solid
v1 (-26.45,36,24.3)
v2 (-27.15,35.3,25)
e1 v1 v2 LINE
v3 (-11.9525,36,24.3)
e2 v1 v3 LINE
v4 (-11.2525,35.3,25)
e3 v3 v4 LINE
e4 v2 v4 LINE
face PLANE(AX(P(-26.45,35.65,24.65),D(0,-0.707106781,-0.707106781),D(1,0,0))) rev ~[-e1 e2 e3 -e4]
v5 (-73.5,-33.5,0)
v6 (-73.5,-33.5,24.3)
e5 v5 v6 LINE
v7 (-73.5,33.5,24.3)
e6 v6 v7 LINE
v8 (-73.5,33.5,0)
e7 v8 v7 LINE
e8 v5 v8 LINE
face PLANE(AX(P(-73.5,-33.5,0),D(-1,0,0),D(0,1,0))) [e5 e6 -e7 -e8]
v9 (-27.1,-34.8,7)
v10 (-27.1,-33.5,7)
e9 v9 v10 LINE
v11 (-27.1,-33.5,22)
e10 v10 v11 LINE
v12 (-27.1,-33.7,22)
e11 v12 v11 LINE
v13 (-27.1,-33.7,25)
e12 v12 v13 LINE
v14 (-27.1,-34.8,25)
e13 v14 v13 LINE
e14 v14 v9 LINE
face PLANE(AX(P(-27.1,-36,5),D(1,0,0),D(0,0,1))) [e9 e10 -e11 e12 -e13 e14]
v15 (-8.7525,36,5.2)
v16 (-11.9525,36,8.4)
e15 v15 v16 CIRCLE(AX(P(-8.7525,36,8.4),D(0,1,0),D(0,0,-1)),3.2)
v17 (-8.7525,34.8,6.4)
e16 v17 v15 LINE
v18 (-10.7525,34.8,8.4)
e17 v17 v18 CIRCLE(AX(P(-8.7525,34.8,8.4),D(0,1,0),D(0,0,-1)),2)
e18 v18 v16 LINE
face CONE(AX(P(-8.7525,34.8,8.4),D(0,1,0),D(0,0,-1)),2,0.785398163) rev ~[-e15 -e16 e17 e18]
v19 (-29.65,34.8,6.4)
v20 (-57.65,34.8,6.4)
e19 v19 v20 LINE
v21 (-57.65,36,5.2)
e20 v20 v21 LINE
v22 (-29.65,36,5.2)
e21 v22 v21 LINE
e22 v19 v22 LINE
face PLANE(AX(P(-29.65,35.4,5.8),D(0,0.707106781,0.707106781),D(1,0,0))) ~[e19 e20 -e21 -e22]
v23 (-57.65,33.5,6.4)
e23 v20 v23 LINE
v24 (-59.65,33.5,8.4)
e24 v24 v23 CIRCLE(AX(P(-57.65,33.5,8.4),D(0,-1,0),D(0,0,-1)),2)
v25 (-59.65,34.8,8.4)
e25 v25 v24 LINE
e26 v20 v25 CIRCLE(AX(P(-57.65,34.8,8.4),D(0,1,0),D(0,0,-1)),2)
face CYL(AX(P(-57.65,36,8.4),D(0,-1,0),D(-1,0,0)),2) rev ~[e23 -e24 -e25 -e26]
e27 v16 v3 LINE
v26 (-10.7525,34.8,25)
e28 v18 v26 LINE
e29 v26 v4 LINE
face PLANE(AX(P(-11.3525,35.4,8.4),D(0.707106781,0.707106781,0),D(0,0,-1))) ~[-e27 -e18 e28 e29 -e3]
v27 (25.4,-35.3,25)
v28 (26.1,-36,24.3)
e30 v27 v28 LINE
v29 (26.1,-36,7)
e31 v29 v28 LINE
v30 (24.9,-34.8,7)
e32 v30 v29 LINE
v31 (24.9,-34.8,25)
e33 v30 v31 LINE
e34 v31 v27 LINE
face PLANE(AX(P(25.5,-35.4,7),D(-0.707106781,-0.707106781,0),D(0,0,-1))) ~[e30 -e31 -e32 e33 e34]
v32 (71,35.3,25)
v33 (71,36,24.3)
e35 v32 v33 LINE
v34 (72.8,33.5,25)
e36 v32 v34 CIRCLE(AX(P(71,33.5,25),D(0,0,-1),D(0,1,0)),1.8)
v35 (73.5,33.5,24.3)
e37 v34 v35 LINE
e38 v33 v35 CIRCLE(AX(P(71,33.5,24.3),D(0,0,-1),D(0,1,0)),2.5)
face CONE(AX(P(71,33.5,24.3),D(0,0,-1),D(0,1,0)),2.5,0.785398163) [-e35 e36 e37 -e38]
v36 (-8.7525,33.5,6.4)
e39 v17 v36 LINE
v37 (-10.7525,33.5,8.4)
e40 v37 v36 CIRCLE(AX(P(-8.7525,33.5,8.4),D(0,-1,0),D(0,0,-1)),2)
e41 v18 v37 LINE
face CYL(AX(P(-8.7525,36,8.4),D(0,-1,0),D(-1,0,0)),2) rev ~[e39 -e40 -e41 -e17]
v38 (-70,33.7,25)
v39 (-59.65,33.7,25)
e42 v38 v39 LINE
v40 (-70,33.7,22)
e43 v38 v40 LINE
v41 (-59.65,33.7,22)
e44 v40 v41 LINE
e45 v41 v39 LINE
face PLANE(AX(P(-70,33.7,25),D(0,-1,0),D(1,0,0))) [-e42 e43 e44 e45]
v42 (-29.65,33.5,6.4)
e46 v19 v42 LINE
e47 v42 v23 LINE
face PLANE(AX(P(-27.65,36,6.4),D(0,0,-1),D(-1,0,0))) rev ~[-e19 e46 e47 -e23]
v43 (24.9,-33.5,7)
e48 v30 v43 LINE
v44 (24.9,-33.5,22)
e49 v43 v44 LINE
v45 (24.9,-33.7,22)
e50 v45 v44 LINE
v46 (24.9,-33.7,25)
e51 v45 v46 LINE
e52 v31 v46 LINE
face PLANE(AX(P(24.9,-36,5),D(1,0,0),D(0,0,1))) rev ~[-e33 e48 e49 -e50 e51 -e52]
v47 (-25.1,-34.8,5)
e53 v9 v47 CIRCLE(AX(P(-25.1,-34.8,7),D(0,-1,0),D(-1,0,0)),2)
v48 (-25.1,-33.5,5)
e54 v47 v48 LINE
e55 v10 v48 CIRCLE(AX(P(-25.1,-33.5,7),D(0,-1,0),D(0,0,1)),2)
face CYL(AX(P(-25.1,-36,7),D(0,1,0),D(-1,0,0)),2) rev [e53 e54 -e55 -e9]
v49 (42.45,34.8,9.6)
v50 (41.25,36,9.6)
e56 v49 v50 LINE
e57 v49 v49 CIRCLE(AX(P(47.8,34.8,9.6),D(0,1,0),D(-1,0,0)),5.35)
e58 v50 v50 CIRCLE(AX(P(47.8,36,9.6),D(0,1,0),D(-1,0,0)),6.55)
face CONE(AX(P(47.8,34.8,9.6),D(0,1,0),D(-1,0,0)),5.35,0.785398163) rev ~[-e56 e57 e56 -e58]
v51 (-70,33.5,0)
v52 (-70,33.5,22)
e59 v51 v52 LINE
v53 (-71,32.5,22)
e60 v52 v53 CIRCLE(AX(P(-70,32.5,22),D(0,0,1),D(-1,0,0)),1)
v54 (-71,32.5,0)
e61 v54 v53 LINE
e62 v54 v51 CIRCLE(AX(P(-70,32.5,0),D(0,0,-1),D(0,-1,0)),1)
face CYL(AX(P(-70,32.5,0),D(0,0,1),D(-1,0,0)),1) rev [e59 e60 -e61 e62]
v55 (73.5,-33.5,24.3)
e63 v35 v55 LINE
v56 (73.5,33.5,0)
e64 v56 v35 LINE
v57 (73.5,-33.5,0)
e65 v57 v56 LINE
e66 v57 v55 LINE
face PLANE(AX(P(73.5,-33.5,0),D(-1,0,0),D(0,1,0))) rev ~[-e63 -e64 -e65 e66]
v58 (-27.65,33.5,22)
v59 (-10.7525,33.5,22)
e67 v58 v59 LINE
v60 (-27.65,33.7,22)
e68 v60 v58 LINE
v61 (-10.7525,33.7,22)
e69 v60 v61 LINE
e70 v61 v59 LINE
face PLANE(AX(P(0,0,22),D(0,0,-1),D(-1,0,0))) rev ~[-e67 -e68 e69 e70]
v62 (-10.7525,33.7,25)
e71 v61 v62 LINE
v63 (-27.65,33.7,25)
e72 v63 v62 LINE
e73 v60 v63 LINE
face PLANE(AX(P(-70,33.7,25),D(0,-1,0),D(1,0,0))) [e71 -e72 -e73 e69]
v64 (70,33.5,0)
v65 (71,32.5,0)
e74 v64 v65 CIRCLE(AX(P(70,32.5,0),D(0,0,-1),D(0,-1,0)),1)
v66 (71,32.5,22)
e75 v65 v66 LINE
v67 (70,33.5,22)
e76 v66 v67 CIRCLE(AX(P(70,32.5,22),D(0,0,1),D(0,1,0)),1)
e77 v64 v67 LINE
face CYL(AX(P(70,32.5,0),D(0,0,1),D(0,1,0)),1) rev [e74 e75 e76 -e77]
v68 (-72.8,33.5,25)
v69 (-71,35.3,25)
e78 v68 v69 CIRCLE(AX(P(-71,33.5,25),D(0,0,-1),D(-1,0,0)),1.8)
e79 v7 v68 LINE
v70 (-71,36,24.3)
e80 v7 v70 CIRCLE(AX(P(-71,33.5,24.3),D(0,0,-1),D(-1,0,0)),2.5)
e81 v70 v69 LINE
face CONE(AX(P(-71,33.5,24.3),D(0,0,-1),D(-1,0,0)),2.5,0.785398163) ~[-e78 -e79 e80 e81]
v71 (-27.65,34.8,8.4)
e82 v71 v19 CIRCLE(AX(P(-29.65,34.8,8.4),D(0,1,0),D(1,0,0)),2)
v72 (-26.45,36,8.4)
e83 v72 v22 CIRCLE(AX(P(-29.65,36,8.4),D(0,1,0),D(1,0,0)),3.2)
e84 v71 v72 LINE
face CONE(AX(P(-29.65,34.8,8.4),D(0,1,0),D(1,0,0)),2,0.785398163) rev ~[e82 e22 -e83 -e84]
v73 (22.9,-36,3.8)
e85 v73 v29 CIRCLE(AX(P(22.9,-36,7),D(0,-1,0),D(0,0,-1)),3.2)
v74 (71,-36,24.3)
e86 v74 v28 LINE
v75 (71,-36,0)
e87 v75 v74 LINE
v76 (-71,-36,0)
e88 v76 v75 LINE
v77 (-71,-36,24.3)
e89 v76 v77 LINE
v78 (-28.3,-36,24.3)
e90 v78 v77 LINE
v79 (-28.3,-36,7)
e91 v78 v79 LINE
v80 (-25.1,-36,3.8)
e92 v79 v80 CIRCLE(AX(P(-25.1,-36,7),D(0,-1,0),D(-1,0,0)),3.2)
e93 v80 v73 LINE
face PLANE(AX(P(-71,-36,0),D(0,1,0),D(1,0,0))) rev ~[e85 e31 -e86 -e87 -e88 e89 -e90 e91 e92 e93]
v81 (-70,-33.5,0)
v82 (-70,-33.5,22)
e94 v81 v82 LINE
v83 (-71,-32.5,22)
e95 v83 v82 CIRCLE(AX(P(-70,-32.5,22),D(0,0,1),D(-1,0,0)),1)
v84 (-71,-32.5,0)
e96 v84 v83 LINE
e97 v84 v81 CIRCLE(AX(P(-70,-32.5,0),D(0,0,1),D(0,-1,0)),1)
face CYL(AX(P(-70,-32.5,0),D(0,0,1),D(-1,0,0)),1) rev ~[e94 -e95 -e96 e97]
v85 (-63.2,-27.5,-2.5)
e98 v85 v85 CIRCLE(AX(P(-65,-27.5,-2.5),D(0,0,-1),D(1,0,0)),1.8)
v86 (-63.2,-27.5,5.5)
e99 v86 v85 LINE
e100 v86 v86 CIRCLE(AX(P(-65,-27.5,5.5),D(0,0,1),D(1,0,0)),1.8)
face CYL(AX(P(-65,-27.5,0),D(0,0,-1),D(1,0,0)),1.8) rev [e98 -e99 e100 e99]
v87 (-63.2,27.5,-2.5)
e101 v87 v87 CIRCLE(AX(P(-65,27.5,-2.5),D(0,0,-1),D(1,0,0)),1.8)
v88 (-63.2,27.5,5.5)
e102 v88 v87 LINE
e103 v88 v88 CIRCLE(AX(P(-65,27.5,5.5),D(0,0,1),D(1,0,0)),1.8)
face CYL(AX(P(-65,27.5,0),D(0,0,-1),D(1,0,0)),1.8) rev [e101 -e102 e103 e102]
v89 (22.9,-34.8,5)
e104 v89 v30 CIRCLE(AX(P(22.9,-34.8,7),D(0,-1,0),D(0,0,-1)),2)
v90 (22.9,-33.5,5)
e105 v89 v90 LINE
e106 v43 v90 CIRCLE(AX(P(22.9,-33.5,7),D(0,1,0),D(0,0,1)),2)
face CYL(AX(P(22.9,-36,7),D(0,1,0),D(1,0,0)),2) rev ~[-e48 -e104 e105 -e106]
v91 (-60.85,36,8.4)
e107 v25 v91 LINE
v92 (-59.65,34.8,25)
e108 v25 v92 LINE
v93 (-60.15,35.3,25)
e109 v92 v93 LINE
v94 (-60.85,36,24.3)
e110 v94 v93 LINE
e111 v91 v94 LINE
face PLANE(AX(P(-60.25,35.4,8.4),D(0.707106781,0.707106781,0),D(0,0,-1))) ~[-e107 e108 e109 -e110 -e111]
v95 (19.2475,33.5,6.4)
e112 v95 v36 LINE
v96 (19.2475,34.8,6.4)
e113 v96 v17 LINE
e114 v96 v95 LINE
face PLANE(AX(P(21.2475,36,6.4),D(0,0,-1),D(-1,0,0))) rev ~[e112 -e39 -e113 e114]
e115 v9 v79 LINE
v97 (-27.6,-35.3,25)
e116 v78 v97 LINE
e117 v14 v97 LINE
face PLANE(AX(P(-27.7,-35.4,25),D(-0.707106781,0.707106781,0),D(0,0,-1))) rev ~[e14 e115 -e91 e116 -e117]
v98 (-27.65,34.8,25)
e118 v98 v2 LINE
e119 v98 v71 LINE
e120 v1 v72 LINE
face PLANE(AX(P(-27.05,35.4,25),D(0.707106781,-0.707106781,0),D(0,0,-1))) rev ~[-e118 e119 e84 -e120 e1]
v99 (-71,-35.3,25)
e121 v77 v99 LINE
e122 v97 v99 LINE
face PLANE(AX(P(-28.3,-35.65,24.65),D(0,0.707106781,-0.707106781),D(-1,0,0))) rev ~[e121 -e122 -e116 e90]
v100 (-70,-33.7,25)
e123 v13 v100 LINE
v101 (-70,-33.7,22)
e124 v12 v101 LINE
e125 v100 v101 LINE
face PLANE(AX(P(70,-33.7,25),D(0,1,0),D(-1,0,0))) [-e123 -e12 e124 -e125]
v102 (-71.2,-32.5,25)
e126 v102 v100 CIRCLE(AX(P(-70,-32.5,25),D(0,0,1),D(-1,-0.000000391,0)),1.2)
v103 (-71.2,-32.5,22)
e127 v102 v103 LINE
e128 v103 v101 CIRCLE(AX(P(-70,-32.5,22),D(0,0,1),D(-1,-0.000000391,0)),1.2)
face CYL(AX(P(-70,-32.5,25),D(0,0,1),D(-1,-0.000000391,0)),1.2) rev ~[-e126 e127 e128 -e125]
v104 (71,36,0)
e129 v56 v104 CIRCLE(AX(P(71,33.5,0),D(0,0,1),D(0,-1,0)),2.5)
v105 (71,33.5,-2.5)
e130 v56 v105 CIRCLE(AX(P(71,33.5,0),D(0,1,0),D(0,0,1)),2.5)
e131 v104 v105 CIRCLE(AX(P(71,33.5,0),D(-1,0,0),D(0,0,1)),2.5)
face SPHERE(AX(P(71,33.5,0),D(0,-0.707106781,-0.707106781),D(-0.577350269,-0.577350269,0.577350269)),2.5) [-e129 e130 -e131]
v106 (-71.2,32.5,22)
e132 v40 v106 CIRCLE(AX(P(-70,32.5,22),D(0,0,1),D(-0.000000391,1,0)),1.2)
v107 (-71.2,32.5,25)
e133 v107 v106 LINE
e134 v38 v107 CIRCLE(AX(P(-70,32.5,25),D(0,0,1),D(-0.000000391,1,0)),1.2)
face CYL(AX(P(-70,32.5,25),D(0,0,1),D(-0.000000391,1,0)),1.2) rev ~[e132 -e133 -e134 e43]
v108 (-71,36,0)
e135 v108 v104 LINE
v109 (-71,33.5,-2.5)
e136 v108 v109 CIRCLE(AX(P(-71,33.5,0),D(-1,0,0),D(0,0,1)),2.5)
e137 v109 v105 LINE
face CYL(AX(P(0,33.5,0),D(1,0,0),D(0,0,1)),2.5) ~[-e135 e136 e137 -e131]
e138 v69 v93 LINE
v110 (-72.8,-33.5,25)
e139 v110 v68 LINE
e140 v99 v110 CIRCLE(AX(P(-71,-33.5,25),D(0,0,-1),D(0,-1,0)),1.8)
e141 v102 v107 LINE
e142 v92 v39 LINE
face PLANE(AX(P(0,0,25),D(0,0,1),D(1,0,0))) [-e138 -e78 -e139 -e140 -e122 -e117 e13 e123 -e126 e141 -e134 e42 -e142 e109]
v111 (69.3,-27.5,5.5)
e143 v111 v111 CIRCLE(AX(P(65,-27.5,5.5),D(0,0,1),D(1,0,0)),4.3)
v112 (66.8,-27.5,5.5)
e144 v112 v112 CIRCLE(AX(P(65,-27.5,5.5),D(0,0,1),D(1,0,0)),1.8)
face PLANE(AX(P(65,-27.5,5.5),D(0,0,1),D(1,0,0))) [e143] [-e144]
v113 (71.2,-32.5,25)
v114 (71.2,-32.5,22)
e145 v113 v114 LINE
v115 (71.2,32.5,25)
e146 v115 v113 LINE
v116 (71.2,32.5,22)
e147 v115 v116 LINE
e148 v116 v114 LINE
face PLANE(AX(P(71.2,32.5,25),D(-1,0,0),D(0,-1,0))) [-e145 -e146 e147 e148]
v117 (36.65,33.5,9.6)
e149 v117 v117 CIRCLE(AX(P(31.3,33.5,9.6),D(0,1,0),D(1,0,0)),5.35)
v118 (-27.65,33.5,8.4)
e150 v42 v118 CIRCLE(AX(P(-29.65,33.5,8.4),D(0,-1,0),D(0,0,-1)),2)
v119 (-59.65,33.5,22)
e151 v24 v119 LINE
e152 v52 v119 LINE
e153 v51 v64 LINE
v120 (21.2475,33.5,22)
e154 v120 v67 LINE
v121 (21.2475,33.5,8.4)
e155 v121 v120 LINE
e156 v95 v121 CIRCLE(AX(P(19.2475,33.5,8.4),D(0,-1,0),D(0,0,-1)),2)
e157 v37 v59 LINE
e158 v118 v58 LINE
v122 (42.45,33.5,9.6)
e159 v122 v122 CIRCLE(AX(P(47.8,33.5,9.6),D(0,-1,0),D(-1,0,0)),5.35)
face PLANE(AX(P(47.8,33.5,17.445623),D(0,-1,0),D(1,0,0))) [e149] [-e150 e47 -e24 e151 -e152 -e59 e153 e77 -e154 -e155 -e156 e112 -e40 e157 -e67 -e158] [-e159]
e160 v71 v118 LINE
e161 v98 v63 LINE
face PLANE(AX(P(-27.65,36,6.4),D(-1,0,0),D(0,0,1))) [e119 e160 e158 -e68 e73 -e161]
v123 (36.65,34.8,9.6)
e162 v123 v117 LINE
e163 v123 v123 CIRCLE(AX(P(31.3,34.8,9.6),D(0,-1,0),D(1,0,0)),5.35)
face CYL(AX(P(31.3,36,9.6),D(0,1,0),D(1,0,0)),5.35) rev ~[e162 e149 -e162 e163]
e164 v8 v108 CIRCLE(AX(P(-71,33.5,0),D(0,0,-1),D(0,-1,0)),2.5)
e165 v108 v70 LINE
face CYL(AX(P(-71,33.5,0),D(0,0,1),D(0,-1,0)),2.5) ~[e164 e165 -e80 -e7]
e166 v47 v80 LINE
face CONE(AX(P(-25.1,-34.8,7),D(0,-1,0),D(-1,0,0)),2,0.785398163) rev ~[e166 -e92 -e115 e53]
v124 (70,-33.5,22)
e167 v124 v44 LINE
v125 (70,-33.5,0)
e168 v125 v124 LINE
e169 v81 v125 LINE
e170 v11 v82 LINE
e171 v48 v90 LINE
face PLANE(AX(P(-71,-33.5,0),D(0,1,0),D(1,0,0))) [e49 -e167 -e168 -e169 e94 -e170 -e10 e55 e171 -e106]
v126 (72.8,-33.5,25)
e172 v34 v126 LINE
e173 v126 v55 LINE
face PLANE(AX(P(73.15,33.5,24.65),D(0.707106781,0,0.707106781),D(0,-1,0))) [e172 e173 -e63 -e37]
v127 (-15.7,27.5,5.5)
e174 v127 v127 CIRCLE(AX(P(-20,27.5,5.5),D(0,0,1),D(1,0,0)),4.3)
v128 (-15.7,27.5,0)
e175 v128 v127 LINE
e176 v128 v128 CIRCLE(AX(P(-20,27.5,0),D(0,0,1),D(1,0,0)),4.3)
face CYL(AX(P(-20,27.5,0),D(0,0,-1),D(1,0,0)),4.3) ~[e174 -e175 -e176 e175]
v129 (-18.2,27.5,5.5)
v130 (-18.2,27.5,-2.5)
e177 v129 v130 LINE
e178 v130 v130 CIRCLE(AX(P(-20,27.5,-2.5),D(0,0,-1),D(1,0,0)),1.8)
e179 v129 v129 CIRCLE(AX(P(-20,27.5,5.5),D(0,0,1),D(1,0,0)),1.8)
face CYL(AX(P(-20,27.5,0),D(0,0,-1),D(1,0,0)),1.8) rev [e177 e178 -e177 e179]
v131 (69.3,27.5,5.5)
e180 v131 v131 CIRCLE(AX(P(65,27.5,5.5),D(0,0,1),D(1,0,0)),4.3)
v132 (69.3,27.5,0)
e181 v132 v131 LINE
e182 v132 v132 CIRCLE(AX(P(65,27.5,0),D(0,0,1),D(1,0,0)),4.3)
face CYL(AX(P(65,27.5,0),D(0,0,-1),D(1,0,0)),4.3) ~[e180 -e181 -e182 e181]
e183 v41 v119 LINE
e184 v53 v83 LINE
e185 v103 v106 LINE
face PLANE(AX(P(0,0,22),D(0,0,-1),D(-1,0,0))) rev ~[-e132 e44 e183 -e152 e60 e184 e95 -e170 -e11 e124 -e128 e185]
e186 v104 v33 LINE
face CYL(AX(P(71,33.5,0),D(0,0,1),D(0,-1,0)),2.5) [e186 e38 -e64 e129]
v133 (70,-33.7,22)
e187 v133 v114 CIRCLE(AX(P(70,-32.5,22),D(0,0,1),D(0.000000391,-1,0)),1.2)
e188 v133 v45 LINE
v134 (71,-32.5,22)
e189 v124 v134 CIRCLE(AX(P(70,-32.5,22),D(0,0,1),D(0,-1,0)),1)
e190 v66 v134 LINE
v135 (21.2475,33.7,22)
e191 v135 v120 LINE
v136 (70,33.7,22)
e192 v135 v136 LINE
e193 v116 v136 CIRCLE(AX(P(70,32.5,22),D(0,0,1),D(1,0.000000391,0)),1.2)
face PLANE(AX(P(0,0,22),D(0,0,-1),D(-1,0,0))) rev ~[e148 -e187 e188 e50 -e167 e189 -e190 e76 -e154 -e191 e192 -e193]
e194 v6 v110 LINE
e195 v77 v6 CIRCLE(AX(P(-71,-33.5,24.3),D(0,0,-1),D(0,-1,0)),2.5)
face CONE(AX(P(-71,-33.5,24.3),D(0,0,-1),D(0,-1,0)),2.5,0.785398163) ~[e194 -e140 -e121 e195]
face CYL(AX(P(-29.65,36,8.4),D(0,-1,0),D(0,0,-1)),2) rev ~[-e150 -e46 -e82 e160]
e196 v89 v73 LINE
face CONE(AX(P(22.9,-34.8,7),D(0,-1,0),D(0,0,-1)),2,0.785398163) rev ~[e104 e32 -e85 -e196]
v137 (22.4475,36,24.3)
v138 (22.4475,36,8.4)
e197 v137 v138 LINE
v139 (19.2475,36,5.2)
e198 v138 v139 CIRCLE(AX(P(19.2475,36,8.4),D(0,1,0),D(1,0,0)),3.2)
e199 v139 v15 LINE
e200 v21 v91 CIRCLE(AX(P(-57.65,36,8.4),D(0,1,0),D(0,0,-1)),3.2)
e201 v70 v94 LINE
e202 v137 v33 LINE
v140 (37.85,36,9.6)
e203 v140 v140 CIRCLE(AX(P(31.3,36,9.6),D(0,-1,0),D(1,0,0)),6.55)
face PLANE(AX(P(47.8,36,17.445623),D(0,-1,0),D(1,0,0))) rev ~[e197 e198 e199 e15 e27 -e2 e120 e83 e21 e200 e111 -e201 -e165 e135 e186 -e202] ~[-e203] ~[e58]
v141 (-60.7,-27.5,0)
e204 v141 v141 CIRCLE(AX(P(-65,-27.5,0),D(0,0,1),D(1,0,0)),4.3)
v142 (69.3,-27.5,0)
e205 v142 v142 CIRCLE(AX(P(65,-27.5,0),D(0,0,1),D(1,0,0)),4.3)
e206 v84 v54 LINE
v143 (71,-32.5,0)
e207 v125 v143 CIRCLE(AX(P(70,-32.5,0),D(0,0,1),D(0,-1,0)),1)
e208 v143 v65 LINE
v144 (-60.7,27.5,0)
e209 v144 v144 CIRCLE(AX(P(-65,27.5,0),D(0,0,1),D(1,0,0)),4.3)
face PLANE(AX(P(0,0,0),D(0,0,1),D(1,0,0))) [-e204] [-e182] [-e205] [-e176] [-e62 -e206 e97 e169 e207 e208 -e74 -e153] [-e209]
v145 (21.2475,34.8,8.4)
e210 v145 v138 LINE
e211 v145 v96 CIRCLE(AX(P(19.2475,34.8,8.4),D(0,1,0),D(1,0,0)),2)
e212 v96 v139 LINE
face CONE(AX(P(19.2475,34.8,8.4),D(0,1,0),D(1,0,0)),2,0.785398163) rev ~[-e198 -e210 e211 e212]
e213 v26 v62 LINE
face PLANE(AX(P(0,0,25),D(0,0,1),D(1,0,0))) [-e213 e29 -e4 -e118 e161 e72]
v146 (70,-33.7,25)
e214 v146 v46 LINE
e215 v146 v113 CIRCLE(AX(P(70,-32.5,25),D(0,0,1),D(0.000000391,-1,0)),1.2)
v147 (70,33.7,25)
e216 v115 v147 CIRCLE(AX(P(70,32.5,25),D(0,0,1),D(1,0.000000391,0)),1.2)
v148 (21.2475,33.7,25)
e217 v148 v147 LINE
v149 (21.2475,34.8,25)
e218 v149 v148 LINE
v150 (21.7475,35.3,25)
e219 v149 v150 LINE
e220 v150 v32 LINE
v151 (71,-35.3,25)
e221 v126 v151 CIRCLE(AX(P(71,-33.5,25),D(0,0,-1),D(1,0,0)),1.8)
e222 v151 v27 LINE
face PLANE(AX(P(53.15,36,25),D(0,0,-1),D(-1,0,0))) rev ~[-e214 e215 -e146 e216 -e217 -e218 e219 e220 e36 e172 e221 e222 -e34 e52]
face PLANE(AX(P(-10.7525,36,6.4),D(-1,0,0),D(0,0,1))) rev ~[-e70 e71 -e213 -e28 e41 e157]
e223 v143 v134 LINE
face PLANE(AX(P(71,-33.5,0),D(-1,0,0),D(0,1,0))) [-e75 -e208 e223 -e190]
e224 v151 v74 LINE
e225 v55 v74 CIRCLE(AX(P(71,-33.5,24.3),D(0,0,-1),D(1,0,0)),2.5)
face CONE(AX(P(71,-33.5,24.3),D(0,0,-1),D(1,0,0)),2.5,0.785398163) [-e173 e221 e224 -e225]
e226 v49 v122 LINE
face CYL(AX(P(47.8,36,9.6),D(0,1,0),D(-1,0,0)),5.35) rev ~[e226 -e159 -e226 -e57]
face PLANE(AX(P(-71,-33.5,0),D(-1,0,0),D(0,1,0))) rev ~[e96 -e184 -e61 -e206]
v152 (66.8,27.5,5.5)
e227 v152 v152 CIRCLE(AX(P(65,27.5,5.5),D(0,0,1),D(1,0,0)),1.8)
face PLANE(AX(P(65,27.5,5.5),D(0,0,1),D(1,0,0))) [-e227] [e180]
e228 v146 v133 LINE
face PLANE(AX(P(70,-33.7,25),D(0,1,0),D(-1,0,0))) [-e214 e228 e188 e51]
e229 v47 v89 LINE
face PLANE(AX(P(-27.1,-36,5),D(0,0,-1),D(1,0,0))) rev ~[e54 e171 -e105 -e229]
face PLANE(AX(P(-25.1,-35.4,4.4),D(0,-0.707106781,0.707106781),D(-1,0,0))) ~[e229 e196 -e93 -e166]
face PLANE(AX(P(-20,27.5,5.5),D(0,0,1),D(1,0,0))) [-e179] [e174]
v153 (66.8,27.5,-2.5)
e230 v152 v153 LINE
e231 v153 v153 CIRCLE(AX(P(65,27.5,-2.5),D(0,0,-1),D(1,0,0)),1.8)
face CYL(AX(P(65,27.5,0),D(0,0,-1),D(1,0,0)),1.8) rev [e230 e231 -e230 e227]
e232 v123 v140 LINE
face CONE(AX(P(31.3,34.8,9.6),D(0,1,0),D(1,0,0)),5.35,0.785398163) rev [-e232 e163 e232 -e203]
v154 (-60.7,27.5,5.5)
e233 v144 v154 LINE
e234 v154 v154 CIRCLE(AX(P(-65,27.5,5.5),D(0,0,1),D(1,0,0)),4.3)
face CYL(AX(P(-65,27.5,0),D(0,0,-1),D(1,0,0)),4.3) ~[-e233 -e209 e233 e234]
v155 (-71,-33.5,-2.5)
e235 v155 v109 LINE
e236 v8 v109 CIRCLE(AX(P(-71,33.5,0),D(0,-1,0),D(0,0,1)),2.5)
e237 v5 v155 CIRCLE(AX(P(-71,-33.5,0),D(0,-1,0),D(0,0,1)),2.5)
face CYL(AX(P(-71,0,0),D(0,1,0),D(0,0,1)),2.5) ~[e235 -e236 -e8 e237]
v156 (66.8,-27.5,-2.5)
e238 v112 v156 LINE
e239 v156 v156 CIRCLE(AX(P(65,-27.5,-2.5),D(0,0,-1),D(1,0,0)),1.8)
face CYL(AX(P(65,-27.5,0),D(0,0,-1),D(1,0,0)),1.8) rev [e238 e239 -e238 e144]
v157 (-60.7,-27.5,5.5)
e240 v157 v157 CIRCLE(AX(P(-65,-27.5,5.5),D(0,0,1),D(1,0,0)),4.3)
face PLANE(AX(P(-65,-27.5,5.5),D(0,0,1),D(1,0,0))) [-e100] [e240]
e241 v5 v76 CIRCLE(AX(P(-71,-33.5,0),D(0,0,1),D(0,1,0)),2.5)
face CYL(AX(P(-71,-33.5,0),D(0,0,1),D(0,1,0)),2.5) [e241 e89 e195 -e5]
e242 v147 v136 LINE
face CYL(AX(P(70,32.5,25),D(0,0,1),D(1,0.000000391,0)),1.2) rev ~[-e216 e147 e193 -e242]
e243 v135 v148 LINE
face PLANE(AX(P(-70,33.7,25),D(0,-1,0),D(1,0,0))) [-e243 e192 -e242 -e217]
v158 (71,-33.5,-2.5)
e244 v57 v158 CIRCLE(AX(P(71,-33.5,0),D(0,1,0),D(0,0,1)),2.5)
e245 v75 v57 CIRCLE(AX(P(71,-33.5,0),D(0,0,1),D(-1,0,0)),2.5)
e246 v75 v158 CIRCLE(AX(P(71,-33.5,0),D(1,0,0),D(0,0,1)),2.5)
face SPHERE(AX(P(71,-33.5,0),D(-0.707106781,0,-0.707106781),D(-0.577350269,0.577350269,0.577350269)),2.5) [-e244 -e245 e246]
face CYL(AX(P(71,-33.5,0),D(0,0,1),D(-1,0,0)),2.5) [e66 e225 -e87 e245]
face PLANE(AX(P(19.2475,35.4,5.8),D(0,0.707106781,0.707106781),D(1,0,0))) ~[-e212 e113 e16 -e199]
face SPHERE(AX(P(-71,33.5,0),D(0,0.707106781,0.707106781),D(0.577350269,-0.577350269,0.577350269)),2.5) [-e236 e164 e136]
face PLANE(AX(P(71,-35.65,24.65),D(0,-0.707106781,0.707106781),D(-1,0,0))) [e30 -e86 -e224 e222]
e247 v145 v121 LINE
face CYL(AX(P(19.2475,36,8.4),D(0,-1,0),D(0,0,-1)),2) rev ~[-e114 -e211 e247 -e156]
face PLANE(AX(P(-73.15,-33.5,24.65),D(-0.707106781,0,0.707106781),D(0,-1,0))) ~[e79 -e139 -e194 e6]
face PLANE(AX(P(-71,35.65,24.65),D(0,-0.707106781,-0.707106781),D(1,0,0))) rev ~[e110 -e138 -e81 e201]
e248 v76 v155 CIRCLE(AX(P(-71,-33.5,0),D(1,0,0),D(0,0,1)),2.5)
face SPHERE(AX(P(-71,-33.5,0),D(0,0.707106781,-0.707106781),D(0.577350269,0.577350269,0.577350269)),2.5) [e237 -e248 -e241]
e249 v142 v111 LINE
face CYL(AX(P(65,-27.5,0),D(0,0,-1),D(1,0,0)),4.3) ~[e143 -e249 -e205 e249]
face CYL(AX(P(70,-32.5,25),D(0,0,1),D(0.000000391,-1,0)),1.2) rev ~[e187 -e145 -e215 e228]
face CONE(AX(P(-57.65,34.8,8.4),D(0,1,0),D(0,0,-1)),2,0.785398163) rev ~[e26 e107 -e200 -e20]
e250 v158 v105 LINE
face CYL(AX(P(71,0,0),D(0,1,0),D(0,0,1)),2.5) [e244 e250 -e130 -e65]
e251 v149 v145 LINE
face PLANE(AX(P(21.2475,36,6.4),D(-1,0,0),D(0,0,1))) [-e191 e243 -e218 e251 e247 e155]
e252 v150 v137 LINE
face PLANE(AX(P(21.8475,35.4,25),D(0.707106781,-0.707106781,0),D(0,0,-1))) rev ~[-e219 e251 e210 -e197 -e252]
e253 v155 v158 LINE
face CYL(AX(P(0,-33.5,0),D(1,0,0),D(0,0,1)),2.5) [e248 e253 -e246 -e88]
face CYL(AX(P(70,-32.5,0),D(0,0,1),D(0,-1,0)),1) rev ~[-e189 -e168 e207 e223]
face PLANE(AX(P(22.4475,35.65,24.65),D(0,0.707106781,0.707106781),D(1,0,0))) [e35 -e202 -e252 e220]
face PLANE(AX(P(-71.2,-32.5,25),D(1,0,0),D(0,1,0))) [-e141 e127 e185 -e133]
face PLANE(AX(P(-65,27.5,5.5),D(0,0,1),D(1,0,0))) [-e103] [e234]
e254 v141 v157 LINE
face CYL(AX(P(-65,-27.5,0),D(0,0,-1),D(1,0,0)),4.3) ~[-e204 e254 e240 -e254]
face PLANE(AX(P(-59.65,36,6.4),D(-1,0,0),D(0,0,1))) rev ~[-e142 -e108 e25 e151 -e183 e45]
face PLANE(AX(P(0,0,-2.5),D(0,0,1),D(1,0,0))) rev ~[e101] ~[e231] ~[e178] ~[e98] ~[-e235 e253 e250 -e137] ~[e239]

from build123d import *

# Parameters (mm, degrees)
SKETCH_W        = 142
SKETCH_H        = 67
PAD_DEPTH       = 25
THICKNESS_T     = 2.5
SKETCH001_R     = 4.3
SKETCH001_R_2   = 1.8
PAD001_DEPTH    = 5.5
FILLET_R        = 1
SKETCH002_W     = 32
SKETCH002_H     = 18.6
POCKET_DEPTH    = 5
SKETCH003_W     = 52
SKETCH003_H     = 20
POCKET001_DEPTH = 2.5
SKETCH006_R     = 1.8
POCKET002_DEPTH = 27.501
PAD005_DEPTH    = 2.5
FILLET001_R     = 2
CHAMFER001_SIZE = 1.2
FILLET002_R     = 2
CHAMFER002_SIZE = 1.2
POCKET003_DEPTH = 3
CHAMFER003_SIZE = 0.7


with BuildPart() as part:
    # Sketch → Pad (new body)
    with BuildSketch(Plane.XY):
        Rectangle(SKETCH_W, SKETCH_H)
    extrude(amount=PAD_DEPTH)

    # Thickness
    thickness_openings = [part.faces().sort_by_distance(p)[0] for p in [
        (0, 0, 25),
    ]]
    offset(amount=THICKNESS_T, openings=thickness_openings)

    # Sketch001 (on Face5 of Thickness) → Pad001 (join)
    with BuildSketch(Plane.XY):
        with Locations((-65, -27.5)):
            Circle(SKETCH001_R)
        with Locations((-65, -27.5)):
            Circle(SKETCH001_R_2, mode=Mode.SUBTRACT)
        with Locations((-65, 27.5)):
            Circle(SKETCH001_R)
        with Locations((-65, 27.5)):
            Circle(SKETCH001_R_2, mode=Mode.SUBTRACT)
        with Locations((-20, 27.5)):
            Circle(SKETCH001_R)
        with Locations((-20, 27.5)):
            Circle(SKETCH001_R_2, mode=Mode.SUBTRACT)
        with Locations((65, 27.5)):
            Circle(SKETCH001_R)
        with Locations((65, 27.5)):
            Circle(SKETCH001_R_2, mode=Mode.SUBTRACT)
        with Locations((65, -27.5)):
            Circle(SKETCH001_R)
        with Locations((65, -27.5)):
            Circle(SKETCH001_R_2, mode=Mode.SUBTRACT)
    extrude(amount=PAD001_DEPTH)

    # Fillet
    fillet_edges = [part.edges().sort_by_distance(p)[0] for p in [
        (-71, 33.5, 12.5),
        (71, 33.5, 12.5),
        (-71, -33.5, 12.5),
        (71, -33.5, 12.5),
    ]]
    fillet(fillet_edges, radius=FILLET_R)

    # Sketch002 (on Face19 of Fillet) → Pocket (cut)
    with BuildSketch(Plane(origin=(0, 36, 0), x_dir=(-1, 0, 0), z_dir=(0, 1, 0))):
        with Locations((-5.2475, 15.7)):
            Rectangle(SKETCH002_W, SKETCH002_H)
        with Locations((43.65, 15.7)):
            Rectangle(SKETCH002_W, SKETCH002_H)
        with BuildLine():
            ThreePointArc((-42.45, 25), (-47.8, 30.35), (-53.15, 25))
            Line((-53.15, 25), (-53.15, 9.6))
            ThreePointArc((-53.15, 9.6), (-47.8, 4.25), (-42.45, 9.6))
            Line((-42.45, 25), (-42.45, 9.6))
        make_face()
        with BuildLine():
            ThreePointArc((-25.95, 25), (-31.3, 30.35), (-36.65, 25))
            Line((-36.65, 25), (-36.65, 9.6))
            ThreePointArc((-36.65, 9.6), (-31.3, 4.25), (-25.95, 9.6))
            Line((-25.95, 25), (-25.95, 9.6))
        make_face()
    extrude(amount=-POCKET_DEPTH, mode=Mode.SUBTRACT)

    # Sketch003 (on Face35 of Pocket) → Pocket001 (cut)
    with BuildSketch(Plane.XZ.offset(36)):
        with Locations((-1.1, 15)):
            Rectangle(SKETCH003_W, SKETCH003_H)
    extrude(amount=-POCKET001_DEPTH, mode=Mode.SUBTRACT)

    # Sketch006 (on Face61 of Pocket001) → Pocket002 (cut, through all)
    with BuildSketch(Plane(origin=(0, 0, -2.5), x_dir=(1, 0, 0), z_dir=(0, 0, -1))):
        with Locations((-65, 27.5)):
            Circle(SKETCH006_R)
        with Locations((65, 27.5)):
            Circle(SKETCH006_R)
        with Locations((65, -27.5)):
            Circle(SKETCH006_R)
        with Locations((-20, -27.5)):
            Circle(SKETCH006_R)
        with Locations((-65, -27.5)):
            Circle(SKETCH006_R)
    extrude(amount=-POCKET002_DEPTH, mode=Mode.SUBTRACT)

    # Sketch008 (on Face32 of Pocket002) → Pad005 (join)
    with BuildSketch(Plane(origin=(0, 36, 0), x_dir=(-1, 0, 0), z_dir=(0, 1, 0))):
        with BuildLine():
            ThreePointArc((-42.45, 9.6), (-47.8, 14.95), (-53.15, 9.6))
            Line((-53.15, 9.6), (-53.15, 25))
            Line((-53.15, 25), (-42.45, 25))
            Line((-42.45, 25), (-42.45, 9.6))
        make_face()
        with BuildLine():
            ThreePointArc((-25.95, 9.6), (-31.3, 14.95), (-36.65, 9.6))
            Line((-36.65, 9.6), (-36.65, 25))
            Line((-36.65, 25), (-25.95, 25))
            Line((-25.95, 25), (-25.95, 9.6))
        make_face()
    extrude(amount=-PAD005_DEPTH)

    # Fillet001
    fillet001_edges = [part.edges().sort_by_distance(p)[0] for p in [
        (21.2475, 34.75, 6.4),
        (-10.7525, 34.75, 6.4),
        (-27.65, 34.75, 6.4),
        (-59.65, 34.75, 6.4),
    ]]
    fillet(fillet001_edges, radius=FILLET001_R)

    # Chamfer001
    chamfer001_edges = [part.edges().sort_by_distance(p)[0] for p in [
        (31.3, 36, 4.25),
        (47.8, 36, 4.25),
        (5.2475, 36, 6.4),
        (-43.65, 36, 6.4),
    ]]
    chamfer(chamfer001_edges, length=CHAMFER001_SIZE)

    # Fillet002
    fillet002_edges = [part.edges().sort_by_distance(p)[0] for p in [
        (24.9, -34.75, 5),
        (-27.1, -34.75, 5),
    ]]
    fillet(fillet002_edges, radius=FILLET002_R)

    # Chamfer002
    chamfer002_edges = [part.edges().sort_by_distance(p)[0] for p in [
        (-1.1, -36, 5),
    ]]
    chamfer(chamfer002_edges, length=CHAMFER002_SIZE)

    # Sketch010 (on Face14 of Chamfer002) → Pocket003 (cut)
    with BuildSketch(Plane.XY.offset(25)):
        with BuildLine():
            Line((-70, 33.7), (70, 33.7))
            ThreePointArc((71.2, 32.5), (70.848528, 33.348528), (70, 33.7))
            Line((71.2, 32.5), (71.2, -32.5))
            ThreePointArc((70, -33.7), (70.848528, -33.348528), (71.2, -32.5))
            Line((70, -33.7), (-70, -33.7))
            ThreePointArc((-71.2, -32.5), (-70.848528, -33.348528), (-70, -33.7))
            Line((-71.2, -32.5), (-71.2, 32.5))
            ThreePointArc((-70, 33.7), (-70.848528, 33.348528), (-71.2, 32.5))
        make_face()
    extrude(amount=-POCKET003_DEPTH, mode=Mode.SUBTRACT)

    # Chamfer003
    chamfer003_edges = [part.edges().sort_by_distance(p)[0] for p in [
        (-65.925, 36, 25),
        (-19.20125, 36, 25),
        (31.3, 36, 25),
    ]]
    chamfer(chamfer003_edges, length=CHAMFER003_SIZE)


solid = part.part
